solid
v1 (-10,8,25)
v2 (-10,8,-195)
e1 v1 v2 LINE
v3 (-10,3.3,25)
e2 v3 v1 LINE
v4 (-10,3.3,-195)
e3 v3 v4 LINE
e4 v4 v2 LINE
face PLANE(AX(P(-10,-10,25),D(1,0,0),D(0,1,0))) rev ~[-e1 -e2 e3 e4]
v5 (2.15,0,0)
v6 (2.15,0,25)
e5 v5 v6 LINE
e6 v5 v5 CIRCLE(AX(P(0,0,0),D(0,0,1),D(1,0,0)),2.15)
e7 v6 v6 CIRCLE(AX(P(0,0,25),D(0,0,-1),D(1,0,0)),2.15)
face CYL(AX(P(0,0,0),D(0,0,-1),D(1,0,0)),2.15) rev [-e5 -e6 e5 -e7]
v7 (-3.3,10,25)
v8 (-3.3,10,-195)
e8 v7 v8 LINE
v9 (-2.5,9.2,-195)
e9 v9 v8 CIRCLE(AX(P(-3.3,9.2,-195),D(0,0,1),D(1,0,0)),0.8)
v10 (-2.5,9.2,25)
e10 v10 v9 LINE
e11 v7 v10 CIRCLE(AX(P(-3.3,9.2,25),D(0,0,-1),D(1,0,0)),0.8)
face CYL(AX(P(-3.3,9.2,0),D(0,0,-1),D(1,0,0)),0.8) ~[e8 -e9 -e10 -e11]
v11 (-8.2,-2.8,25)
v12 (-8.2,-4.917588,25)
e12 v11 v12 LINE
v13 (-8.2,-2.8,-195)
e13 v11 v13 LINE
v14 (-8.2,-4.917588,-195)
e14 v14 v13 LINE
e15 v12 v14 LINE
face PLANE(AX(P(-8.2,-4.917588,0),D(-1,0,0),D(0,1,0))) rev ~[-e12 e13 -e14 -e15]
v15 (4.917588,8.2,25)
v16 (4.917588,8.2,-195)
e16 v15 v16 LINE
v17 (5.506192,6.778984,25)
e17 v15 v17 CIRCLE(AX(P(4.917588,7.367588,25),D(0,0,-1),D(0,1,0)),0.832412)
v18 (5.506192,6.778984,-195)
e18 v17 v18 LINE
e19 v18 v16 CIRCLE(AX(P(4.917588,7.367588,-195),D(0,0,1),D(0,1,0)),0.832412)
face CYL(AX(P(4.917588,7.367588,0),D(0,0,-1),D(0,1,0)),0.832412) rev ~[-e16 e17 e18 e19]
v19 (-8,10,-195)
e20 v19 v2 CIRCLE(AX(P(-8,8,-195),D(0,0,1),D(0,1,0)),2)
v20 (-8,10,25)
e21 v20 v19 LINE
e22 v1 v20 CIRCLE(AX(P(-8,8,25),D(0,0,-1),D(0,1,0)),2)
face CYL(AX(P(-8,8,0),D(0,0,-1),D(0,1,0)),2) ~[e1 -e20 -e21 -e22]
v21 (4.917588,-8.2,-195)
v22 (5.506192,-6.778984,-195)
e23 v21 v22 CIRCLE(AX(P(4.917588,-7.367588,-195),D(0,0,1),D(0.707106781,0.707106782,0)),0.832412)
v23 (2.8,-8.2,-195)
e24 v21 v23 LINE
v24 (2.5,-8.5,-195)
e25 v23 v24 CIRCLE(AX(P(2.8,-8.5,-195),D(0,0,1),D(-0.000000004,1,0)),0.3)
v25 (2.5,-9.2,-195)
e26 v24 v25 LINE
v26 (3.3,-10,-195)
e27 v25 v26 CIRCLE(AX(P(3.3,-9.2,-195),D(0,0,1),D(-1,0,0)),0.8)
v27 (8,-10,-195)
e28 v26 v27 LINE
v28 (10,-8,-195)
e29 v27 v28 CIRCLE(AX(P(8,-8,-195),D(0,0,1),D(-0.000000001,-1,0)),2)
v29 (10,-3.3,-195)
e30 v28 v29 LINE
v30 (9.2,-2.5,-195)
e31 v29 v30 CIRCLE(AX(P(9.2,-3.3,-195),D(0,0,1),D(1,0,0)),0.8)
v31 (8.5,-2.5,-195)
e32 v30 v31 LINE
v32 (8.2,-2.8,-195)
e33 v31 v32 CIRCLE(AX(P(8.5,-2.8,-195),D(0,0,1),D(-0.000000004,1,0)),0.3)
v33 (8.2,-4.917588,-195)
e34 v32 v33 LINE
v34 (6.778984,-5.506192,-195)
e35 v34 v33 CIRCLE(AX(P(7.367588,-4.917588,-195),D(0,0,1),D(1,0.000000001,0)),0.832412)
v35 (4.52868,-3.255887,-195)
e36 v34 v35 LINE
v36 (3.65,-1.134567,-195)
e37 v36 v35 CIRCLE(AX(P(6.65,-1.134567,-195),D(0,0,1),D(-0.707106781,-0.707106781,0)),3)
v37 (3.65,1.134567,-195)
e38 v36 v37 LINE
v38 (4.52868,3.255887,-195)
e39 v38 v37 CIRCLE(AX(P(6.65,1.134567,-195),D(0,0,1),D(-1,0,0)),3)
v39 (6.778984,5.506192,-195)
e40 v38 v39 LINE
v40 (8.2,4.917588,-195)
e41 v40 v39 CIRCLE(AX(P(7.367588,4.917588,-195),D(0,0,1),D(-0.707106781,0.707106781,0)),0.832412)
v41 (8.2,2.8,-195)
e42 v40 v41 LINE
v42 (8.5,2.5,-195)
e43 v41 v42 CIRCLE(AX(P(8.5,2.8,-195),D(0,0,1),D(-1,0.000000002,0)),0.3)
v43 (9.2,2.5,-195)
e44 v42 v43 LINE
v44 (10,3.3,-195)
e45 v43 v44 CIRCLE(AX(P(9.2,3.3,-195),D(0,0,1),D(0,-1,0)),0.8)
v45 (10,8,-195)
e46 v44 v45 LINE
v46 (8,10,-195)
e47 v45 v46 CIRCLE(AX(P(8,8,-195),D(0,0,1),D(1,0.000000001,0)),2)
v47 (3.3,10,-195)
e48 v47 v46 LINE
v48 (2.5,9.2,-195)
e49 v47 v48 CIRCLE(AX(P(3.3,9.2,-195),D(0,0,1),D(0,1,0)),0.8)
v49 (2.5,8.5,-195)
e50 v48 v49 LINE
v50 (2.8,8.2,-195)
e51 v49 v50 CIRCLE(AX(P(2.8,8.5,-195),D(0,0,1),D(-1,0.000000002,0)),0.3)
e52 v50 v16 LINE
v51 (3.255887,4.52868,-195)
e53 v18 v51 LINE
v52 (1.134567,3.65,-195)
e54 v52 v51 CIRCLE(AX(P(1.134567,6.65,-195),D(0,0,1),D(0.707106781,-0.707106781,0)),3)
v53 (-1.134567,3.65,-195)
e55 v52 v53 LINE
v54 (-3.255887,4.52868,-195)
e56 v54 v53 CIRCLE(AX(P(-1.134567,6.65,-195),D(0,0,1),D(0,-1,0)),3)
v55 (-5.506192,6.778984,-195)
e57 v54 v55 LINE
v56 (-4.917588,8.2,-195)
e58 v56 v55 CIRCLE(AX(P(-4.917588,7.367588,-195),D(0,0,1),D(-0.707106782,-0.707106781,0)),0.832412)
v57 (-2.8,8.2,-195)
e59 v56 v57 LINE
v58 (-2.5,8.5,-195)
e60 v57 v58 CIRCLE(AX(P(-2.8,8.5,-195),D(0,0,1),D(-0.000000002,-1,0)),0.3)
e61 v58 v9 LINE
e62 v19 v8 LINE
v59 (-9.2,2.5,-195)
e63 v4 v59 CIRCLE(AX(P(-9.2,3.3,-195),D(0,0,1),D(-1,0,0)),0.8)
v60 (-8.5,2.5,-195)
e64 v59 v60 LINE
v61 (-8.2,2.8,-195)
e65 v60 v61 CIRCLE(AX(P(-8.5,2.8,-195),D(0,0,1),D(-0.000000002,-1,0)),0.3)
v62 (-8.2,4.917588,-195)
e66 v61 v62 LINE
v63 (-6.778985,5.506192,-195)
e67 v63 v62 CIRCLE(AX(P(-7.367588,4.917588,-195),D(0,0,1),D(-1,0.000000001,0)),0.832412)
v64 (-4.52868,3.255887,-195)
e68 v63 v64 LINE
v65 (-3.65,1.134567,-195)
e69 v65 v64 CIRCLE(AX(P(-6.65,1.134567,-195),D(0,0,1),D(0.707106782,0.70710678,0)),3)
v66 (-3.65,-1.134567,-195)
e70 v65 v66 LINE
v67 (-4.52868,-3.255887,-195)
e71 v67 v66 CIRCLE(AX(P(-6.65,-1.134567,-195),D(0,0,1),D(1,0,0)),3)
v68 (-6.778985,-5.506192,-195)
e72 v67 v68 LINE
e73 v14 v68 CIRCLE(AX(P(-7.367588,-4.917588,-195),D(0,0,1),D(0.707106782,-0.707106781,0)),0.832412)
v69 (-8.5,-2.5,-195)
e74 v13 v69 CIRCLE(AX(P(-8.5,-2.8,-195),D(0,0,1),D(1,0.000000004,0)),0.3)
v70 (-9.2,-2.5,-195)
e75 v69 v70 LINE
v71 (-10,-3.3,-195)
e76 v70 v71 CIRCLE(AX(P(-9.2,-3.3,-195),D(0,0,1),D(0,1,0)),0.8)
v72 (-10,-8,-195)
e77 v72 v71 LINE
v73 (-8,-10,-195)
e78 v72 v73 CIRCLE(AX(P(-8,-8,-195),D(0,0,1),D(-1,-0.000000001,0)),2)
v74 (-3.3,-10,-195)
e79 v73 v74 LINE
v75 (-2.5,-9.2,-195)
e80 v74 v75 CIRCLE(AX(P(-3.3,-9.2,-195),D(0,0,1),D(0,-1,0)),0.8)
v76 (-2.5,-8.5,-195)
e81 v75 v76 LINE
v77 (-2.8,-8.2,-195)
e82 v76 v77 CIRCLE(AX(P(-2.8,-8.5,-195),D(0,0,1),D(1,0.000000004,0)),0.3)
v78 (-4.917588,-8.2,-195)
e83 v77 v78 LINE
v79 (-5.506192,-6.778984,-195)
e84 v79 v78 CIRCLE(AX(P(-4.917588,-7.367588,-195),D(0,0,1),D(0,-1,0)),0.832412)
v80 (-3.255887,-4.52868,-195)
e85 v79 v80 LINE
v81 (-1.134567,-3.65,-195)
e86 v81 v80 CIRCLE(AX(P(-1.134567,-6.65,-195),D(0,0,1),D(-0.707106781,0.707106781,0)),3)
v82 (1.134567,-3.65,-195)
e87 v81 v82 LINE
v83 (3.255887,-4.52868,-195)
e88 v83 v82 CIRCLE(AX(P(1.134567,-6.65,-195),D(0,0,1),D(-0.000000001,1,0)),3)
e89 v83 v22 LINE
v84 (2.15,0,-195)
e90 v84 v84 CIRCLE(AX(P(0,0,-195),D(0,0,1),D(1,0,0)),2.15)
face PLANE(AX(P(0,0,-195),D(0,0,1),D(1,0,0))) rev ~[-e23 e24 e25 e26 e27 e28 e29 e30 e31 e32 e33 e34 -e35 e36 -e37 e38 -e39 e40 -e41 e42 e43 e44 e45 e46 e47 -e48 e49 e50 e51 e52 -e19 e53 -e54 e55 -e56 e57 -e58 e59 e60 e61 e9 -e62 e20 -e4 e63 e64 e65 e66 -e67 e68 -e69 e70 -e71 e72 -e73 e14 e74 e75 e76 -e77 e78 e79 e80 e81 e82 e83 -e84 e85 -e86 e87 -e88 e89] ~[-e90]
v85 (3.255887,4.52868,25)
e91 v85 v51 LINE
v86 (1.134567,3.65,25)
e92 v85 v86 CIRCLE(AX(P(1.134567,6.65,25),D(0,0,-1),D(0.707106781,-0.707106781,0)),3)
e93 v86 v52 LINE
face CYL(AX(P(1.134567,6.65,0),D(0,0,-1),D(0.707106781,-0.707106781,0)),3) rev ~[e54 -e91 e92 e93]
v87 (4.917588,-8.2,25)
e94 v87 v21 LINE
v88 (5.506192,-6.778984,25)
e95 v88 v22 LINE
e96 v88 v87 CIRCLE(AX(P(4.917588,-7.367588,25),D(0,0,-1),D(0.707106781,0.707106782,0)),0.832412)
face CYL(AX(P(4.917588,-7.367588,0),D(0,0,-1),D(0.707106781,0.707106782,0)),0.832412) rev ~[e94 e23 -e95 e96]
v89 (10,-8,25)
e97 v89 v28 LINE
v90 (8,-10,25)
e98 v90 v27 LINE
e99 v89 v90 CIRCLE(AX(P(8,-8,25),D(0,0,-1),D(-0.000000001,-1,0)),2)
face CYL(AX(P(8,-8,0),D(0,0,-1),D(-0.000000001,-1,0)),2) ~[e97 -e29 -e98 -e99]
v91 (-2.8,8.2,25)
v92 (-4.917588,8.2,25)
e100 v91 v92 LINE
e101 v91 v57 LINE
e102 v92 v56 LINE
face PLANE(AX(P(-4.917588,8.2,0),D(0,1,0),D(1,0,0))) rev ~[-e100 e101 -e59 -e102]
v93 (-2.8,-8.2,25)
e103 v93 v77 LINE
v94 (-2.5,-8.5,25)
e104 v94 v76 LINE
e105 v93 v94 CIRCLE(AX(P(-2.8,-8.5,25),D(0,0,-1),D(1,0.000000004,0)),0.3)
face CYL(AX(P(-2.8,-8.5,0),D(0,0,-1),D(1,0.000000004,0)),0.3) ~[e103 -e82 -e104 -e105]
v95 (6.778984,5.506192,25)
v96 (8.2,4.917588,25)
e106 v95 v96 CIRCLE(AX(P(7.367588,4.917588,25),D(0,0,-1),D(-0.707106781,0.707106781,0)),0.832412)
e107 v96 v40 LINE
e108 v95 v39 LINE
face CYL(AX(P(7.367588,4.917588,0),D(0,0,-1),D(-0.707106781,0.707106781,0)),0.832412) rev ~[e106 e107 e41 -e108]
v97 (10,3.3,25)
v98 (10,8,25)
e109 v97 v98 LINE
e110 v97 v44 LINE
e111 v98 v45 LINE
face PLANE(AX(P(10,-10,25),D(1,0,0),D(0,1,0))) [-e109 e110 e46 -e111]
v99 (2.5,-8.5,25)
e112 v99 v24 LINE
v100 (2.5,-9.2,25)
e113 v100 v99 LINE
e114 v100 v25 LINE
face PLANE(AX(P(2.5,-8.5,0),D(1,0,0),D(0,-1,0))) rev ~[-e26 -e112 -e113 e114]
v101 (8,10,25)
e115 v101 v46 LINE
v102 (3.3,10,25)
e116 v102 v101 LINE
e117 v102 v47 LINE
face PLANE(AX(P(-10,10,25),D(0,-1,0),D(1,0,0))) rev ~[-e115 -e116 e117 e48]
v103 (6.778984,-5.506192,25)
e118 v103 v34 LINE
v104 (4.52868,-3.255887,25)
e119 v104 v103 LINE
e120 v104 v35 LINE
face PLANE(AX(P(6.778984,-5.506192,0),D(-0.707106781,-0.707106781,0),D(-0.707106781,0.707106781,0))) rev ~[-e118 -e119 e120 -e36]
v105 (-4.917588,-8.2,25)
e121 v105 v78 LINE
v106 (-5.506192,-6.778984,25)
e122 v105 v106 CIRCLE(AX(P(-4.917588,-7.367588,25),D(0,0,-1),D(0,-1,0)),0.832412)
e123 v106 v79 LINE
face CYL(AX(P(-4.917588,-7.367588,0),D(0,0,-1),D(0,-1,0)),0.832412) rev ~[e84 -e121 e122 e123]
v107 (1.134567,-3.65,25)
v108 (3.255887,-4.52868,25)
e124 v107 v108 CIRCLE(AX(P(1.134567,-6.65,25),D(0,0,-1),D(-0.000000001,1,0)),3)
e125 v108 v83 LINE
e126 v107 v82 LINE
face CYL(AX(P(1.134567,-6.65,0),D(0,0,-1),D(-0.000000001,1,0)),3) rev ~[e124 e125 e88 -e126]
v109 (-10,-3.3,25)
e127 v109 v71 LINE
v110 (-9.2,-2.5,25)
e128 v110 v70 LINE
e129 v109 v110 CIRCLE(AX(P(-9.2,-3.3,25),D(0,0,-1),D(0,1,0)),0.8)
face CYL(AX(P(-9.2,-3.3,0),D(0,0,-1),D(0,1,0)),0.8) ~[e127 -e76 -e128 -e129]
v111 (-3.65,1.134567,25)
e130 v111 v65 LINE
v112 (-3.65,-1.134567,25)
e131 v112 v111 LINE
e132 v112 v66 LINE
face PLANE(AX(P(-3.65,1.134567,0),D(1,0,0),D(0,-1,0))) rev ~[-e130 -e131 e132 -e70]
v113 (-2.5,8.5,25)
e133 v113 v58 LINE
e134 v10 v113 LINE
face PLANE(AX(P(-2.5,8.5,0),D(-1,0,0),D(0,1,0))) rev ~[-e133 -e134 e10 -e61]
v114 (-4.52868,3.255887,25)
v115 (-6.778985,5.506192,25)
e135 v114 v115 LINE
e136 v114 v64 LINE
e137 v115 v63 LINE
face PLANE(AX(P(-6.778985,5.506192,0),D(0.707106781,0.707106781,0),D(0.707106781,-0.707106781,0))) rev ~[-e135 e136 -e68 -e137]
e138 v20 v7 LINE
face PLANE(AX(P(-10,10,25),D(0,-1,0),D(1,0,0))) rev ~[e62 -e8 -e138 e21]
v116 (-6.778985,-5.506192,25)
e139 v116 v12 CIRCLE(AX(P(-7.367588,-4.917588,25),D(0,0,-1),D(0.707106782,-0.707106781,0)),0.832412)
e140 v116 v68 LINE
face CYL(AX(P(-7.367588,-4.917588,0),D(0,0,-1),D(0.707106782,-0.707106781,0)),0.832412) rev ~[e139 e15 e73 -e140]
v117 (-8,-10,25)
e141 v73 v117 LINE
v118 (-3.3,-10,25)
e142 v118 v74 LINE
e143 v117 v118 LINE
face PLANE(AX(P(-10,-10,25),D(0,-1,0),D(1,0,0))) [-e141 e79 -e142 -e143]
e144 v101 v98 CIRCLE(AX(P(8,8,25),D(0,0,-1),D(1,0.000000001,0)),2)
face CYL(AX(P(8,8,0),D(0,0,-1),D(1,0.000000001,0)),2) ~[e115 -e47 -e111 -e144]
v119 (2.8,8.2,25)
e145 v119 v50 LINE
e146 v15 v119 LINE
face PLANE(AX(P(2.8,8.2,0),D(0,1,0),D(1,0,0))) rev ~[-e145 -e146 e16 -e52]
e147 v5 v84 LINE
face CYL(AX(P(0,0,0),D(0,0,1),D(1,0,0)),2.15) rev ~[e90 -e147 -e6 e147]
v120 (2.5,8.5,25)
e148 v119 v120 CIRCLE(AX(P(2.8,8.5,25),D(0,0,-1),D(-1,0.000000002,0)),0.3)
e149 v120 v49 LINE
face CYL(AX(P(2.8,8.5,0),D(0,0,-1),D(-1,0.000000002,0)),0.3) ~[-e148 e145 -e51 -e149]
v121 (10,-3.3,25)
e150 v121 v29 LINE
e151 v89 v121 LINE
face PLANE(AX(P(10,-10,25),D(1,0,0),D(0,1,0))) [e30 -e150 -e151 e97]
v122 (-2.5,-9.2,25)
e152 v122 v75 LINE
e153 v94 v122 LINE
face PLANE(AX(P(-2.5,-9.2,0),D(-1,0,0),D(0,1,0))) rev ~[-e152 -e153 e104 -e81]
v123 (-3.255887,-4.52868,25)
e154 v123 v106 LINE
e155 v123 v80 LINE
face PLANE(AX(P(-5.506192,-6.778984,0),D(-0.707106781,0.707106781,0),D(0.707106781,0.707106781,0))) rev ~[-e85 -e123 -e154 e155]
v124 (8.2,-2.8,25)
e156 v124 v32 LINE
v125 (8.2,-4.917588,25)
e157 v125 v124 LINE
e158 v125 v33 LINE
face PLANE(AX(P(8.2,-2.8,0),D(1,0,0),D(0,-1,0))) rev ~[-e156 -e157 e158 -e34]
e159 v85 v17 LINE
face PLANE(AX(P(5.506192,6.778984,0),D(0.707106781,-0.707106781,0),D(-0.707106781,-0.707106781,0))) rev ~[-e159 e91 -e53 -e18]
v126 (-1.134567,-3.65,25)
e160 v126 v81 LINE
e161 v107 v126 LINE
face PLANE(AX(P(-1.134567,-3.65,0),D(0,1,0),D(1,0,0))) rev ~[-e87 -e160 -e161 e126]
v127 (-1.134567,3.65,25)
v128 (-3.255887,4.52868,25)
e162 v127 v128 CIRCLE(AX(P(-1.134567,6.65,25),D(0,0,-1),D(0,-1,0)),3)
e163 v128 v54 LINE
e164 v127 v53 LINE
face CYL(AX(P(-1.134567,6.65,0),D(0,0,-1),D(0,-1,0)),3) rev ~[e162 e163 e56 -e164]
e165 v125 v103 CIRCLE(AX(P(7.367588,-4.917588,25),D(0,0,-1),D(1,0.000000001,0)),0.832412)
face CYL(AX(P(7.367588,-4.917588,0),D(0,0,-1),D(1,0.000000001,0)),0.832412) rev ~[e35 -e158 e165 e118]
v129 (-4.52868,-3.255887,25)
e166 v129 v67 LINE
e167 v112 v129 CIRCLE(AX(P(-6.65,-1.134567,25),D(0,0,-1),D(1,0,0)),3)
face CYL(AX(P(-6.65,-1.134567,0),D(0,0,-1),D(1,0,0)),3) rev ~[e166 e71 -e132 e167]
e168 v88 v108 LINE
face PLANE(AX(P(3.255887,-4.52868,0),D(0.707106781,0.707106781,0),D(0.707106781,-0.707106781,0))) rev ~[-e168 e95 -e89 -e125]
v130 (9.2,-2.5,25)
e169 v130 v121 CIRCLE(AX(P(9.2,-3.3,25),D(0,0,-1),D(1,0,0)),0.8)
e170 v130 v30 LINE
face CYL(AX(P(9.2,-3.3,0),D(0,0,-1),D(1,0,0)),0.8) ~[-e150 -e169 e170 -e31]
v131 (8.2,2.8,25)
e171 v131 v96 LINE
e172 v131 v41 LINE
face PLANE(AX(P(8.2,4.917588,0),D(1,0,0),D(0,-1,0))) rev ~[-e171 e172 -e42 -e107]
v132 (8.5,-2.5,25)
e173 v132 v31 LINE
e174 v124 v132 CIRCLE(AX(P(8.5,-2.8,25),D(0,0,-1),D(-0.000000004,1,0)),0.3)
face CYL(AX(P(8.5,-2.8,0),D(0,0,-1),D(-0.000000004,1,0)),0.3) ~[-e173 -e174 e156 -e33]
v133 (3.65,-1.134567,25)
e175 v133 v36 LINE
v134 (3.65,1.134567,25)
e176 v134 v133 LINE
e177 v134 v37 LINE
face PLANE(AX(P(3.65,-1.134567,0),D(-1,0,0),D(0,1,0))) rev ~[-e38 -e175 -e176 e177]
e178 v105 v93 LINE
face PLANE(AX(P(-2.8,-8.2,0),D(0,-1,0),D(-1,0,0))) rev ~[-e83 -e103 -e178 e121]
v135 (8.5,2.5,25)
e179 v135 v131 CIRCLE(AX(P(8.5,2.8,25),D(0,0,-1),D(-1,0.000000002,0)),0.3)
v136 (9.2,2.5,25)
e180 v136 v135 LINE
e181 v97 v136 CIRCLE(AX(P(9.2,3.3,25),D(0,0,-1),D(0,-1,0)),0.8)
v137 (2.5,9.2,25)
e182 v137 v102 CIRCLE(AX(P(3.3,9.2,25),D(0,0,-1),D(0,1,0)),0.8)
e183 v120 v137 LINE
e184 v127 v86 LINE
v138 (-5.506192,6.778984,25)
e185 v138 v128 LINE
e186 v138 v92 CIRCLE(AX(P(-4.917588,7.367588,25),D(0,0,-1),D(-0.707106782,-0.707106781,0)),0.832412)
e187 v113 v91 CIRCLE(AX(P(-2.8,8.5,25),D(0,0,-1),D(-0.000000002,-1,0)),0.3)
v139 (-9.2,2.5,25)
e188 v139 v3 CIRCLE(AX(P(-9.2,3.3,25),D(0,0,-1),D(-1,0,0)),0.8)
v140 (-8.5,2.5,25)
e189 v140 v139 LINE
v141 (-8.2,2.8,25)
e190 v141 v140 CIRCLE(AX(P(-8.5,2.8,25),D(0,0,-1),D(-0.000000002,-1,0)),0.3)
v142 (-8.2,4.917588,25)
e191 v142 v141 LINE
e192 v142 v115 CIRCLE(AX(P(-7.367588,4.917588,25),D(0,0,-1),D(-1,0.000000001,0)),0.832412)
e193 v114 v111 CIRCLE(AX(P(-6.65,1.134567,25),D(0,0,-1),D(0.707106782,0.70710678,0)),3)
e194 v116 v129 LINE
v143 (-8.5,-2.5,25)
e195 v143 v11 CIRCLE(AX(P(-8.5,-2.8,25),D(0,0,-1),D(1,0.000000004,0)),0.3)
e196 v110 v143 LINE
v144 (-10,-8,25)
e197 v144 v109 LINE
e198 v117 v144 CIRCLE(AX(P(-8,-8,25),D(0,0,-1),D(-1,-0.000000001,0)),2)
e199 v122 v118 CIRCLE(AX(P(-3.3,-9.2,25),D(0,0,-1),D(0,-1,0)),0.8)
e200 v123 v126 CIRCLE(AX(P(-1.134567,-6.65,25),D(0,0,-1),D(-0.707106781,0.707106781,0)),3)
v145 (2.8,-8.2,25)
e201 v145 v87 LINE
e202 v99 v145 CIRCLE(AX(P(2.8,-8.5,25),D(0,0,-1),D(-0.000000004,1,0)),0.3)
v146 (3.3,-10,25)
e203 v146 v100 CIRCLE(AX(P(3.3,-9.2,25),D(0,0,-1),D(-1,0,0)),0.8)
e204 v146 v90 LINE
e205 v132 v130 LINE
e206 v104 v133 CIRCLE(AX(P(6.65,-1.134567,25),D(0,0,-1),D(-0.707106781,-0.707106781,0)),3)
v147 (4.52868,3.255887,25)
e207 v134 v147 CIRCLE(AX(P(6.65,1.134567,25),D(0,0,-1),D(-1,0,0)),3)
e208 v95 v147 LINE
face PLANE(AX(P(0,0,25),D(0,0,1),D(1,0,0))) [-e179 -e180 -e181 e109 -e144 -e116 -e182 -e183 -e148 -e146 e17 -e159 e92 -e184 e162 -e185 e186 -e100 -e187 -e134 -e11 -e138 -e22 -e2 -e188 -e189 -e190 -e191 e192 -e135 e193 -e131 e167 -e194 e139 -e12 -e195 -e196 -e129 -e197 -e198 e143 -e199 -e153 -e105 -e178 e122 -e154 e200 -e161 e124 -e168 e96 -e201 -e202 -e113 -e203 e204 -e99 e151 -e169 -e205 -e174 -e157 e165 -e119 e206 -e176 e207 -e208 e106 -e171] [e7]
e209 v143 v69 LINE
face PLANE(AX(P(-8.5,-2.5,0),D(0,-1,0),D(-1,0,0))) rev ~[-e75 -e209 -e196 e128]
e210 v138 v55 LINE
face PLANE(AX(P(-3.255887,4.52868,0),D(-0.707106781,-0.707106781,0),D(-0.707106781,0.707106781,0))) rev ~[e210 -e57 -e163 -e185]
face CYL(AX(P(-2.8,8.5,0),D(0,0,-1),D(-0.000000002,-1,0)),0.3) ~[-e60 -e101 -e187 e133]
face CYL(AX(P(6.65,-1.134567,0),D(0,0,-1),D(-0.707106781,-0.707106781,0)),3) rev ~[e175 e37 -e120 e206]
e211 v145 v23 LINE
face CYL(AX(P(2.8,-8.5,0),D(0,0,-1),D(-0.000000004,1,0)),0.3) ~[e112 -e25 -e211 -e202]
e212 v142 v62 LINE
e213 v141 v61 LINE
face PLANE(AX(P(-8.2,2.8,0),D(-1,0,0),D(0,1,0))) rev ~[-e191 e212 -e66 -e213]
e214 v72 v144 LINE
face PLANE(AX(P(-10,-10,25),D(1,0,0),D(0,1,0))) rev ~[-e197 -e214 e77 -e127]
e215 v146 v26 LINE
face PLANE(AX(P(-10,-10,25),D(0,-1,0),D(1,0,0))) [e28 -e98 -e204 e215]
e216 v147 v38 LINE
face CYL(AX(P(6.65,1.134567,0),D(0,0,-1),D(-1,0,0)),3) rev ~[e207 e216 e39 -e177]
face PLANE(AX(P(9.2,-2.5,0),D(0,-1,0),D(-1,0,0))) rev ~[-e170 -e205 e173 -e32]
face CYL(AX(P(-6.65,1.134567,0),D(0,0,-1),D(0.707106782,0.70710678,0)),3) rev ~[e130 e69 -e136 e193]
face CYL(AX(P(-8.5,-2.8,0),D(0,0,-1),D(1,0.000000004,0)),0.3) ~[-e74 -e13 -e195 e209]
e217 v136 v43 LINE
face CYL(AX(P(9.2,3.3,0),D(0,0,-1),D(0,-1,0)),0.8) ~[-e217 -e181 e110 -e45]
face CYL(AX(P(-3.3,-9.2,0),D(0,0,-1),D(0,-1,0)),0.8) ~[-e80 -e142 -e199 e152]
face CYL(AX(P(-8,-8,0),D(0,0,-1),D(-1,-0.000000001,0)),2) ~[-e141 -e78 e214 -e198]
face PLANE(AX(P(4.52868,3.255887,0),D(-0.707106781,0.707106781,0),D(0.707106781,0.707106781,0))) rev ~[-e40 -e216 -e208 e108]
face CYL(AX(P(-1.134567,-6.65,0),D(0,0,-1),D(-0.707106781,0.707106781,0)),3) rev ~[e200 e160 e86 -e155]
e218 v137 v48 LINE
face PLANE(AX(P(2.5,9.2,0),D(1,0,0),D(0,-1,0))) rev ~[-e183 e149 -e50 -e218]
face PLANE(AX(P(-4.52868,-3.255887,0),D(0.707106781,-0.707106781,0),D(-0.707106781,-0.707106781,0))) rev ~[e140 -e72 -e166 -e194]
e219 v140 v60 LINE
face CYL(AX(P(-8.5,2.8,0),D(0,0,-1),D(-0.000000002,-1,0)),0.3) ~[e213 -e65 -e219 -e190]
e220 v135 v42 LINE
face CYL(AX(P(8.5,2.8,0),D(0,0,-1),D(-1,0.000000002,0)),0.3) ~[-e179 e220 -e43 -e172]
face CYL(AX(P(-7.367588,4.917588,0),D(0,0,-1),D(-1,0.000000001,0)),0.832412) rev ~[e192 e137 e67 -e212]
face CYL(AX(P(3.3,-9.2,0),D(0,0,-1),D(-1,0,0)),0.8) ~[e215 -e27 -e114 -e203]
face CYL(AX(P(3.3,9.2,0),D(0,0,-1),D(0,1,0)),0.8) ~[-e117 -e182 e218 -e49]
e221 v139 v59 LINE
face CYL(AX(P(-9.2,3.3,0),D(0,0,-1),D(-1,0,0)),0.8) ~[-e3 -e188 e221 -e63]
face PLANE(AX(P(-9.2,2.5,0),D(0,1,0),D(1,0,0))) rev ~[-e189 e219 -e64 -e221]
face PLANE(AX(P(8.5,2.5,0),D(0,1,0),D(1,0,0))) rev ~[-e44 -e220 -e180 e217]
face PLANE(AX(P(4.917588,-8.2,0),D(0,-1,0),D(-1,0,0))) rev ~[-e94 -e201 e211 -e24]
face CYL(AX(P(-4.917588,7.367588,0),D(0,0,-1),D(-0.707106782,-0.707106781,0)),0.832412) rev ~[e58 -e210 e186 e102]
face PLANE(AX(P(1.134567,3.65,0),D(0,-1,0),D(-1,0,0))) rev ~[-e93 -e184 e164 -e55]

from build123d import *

# Parameters (mm, degrees)
SKETCH4_W              = 20
SKETCH4_H              = 20
BODY_DEPTH             = 220
SKETCH16_OUTSIDE_W     = 66.362
SKETCH16_OUTSIDE_H     = 66.362
SKETCH16_OUTSIDE_R     = 2.15
CUT_PROFILE_DEPTH      = 26
CUT_PROFILE_DEPTH_BACK = 196


with BuildPart() as part:
    # Sketch4 → Body (new body)
    with BuildSketch(Plane.XY.offset(25)):
        Rectangle(SKETCH4_W, SKETCH4_H)
    extrude(amount=-BODY_DEPTH)

    # Sketch16 outside → Cut-Profile (cut, two sides)
    with BuildSketch(Plane.XY) as cut_profile_sk:
        Rectangle(SKETCH16_OUTSIDE_W, SKETCH16_OUTSIDE_H)
        with BuildLine():
            Line((4.917588389, -8.199999991), (2.799999989, -8.199999991))
            ThreePointArc((2.799999989, -8.199999991), (2.587867955, -8.287867957), (2.499999989, -8.499999991))
            Line((2.499999989, -8.499999991), (2.499999989, -9.199999991))
            ThreePointArc((2.499999989, -9.199999991), (2.734314564, -9.765685416), (3.299999989, -9.999999991))
            Line((3.299999989, -9.999999991), (7.999999989, -9.999999991))
            ThreePointArc((7.999999989, -9.999999991), (9.414213552, -9.414213554), (9.999999989, -7.999999991))
            Line((9.999999989, -7.999999991), (9.999999989, -3.299999991))
            ThreePointArc((9.999999989, -3.299999991), (9.765685414, -2.734314566), (9.199999989, -2.499999991))
            Line((9.199999989, -2.499999991), (8.499999989, -2.499999991))
            ThreePointArc((8.499999989, -2.499999991), (8.287867955, -2.587867957), (8.199999989, -2.799999991))
            Line((8.199999989, -2.799999991), (8.199999989, -4.917588391))
            ThreePointArc((8.199999989, -4.917588391), (7.686138511, -5.686636441), (6.778984485, -5.506192286))
            Line((6.778984485, -5.506192286), (4.528679645, -3.255887446))
            ThreePointArc((4.528679645, -3.255887446), (3.878361392, -2.282617401), (3.64999999, -1.134567106))
            Line((3.64999999, -1.134567106), (3.64999999, 1.134567104))
            ThreePointArc((3.64999999, 1.134567104), (3.878361393, 2.282617402), (4.528679647, 3.255887448))
            Line((4.528679647, 3.255887448), (6.778984487, 5.506192288))
            ThreePointArc((6.778984487, 5.506192288), (7.686138506, 5.686636442), (8.199999981, 4.917588398))
            Line((8.199999981, 4.917588398), (8.199999981, 2.799999998))
            ThreePointArc((8.199999981, 2.799999998), (8.287867946, 2.587867964), (8.499999981, 2.499999998))
            Line((8.499999981, 2.499999998), (9.199999981, 2.499999998))
            ThreePointArc((9.199999981, 2.499999998), (9.765685406, 2.734314573), (9.999999981, 3.299999998))
            Line((9.999999981, 3.299999998), (9.999999981, 7.999999998))
            ThreePointArc((9.999999981, 7.999999998), (9.414213543, 9.41421356), (7.999999981, 9.999999998))
            Line((7.999999981, 9.999999998), (3.299999981, 9.999999998))
            ThreePointArc((3.299999981, 9.999999998), (2.734314556, 9.765685423), (2.499999981, 9.199999998))
            Line((2.499999981, 9.199999998), (2.499999981, 8.499999998))
            ThreePointArc((2.499999981, 8.499999998), (2.587867946, 8.287867964), (2.799999981, 8.199999998))
            Line((2.799999981, 8.199999998), (4.917588381, 8.199999998))
            ThreePointArc((4.917588381, 8.199999998), (5.68663643, 7.68613852), (5.506192275, 6.778984494))
            Line((5.506192275, 6.778984494), (3.255887435, 4.528679654))
            ThreePointArc((3.255887435, 4.528679654), (2.28261739, 3.878361401), (1.134567095, 3.649999999))
            Line((1.134567095, 3.649999999), (-1.134567115, 3.649999999))
            ThreePointArc((-1.134567115, 3.649999999), (-2.282617412, 3.878361401), (-3.255887459, 4.528679655))
            Line((-3.255887459, 4.528679655), (-5.506192299, 6.778984495))
            ThreePointArc((-5.506192299, 6.778984495), (-5.686636452, 7.686138515), (-4.917588409, 8.199999989))
            Line((-4.917588409, 8.199999989), (-2.800000009, 8.199999989))
            ThreePointArc((-2.800000009, 8.199999989), (-2.587867974, 8.287867955), (-2.500000009, 8.499999989))
            Line((-2.500000009, 8.499999989), (-2.500000009, 9.199999989))
            ThreePointArc((-2.500000009, 9.199999989), (-2.734314584, 9.765685414), (-3.300000009, 9.999999989))
            Line((-3.300000009, 9.999999989), (-8.000000009, 9.999999989))
            ThreePointArc((-8.000000009, 9.999999989), (-9.414213571, 9.414213552), (-10.000000009, 7.999999989))
            Line((-10.000000009, 7.999999989), (-10.000000009, 3.299999989))
            ThreePointArc((-10.000000009, 3.299999989), (-9.765685434, 2.734314564), (-9.200000009, 2.499999989))
            Line((-9.200000009, 2.499999989), (-8.500000009, 2.499999989))
            ThreePointArc((-8.500000009, 2.499999989), (-8.287867974, 2.587867955), (-8.200000009, 2.799999989))
            Line((-8.200000009, 2.799999989), (-8.200000009, 4.917588389))
            ThreePointArc((-8.200000009, 4.917588389), (-7.686138531, 5.686636438), (-6.778984504, 5.506192284))
            Line((-6.778984504, 5.506192284), (-4.528679664, 3.255887444))
            ThreePointArc((-4.528679664, 3.255887444), (-3.878361412, 2.282617399), (-3.650000009, 1.134567104))
            Line((-3.650000009, 1.134567104), (-3.650000009, -1.134567106))
            ThreePointArc((-3.650000009, -1.134567106), (-3.878361412, -2.282617404), (-4.528679666, -3.25588745))
            Line((-4.528679666, -3.25588745), (-6.778984506, -5.50619229))
            ThreePointArc((-6.778984506, -5.50619229), (-7.686138526, -5.686636444), (-8.2, -4.9175884))
            Line((-8.2, -4.9175884), (-8.2, -2.8))
            ThreePointArc((-8.2, -2.8), (-8.287867966, -2.587867966), (-8.5, -2.5))
            Line((-8.5, -2.5), (-9.2, -2.5))
            ThreePointArc((-9.2, -2.5), (-9.765685425, -2.734314575), (-10, -3.3))
            Line((-10, -3.3), (-10, -8))
            ThreePointArc((-10, -8), (-9.414213562, -9.414213562), (-8, -10))
            Line((-8, -10), (-3.3, -10))
            ThreePointArc((-3.3, -10), (-2.734314575, -9.765685425), (-2.5, -9.2))
            Line((-2.5, -9.2), (-2.5, -8.5))
            ThreePointArc((-2.5, -8.5), (-2.587867966, -8.287867966), (-2.8, -8.2))
            Line((-2.8, -8.2), (-4.9175884, -8.2))
            ThreePointArc((-4.9175884, -8.2), (-5.686636449, -7.686138522), (-5.506192294, -6.778984496))
            Line((-5.506192294, -6.778984496), (-3.255887454, -4.528679656))
            ThreePointArc((-3.255887454, -4.528679656), (-2.282617409, -3.878361403), (-1.134567114, -3.650000001))
            Line((-1.134567114, -3.650000001), (1.134567096, -3.650000001))
            ThreePointArc((1.134567096, -3.650000001), (2.282617393, -3.878361403), (3.255887439, -4.528679657))
            Line((3.255887439, -4.528679657), (5.506192279, -6.778984497))
            ThreePointArc((5.506192279, -6.778984497), (5.686636433, -7.686138517), (4.917588389, -8.199999991))
        make_face(mode=Mode.SUBTRACT)
        Circle(SKETCH16_OUTSIDE_R)
    extrude(amount=CUT_PROFILE_DEPTH, mode=Mode.SUBTRACT)
    extrude(cut_profile_sk.sketch, amount=-CUT_PROFILE_DEPTH_BACK, mode=Mode.SUBTRACT)


solid = part.part
